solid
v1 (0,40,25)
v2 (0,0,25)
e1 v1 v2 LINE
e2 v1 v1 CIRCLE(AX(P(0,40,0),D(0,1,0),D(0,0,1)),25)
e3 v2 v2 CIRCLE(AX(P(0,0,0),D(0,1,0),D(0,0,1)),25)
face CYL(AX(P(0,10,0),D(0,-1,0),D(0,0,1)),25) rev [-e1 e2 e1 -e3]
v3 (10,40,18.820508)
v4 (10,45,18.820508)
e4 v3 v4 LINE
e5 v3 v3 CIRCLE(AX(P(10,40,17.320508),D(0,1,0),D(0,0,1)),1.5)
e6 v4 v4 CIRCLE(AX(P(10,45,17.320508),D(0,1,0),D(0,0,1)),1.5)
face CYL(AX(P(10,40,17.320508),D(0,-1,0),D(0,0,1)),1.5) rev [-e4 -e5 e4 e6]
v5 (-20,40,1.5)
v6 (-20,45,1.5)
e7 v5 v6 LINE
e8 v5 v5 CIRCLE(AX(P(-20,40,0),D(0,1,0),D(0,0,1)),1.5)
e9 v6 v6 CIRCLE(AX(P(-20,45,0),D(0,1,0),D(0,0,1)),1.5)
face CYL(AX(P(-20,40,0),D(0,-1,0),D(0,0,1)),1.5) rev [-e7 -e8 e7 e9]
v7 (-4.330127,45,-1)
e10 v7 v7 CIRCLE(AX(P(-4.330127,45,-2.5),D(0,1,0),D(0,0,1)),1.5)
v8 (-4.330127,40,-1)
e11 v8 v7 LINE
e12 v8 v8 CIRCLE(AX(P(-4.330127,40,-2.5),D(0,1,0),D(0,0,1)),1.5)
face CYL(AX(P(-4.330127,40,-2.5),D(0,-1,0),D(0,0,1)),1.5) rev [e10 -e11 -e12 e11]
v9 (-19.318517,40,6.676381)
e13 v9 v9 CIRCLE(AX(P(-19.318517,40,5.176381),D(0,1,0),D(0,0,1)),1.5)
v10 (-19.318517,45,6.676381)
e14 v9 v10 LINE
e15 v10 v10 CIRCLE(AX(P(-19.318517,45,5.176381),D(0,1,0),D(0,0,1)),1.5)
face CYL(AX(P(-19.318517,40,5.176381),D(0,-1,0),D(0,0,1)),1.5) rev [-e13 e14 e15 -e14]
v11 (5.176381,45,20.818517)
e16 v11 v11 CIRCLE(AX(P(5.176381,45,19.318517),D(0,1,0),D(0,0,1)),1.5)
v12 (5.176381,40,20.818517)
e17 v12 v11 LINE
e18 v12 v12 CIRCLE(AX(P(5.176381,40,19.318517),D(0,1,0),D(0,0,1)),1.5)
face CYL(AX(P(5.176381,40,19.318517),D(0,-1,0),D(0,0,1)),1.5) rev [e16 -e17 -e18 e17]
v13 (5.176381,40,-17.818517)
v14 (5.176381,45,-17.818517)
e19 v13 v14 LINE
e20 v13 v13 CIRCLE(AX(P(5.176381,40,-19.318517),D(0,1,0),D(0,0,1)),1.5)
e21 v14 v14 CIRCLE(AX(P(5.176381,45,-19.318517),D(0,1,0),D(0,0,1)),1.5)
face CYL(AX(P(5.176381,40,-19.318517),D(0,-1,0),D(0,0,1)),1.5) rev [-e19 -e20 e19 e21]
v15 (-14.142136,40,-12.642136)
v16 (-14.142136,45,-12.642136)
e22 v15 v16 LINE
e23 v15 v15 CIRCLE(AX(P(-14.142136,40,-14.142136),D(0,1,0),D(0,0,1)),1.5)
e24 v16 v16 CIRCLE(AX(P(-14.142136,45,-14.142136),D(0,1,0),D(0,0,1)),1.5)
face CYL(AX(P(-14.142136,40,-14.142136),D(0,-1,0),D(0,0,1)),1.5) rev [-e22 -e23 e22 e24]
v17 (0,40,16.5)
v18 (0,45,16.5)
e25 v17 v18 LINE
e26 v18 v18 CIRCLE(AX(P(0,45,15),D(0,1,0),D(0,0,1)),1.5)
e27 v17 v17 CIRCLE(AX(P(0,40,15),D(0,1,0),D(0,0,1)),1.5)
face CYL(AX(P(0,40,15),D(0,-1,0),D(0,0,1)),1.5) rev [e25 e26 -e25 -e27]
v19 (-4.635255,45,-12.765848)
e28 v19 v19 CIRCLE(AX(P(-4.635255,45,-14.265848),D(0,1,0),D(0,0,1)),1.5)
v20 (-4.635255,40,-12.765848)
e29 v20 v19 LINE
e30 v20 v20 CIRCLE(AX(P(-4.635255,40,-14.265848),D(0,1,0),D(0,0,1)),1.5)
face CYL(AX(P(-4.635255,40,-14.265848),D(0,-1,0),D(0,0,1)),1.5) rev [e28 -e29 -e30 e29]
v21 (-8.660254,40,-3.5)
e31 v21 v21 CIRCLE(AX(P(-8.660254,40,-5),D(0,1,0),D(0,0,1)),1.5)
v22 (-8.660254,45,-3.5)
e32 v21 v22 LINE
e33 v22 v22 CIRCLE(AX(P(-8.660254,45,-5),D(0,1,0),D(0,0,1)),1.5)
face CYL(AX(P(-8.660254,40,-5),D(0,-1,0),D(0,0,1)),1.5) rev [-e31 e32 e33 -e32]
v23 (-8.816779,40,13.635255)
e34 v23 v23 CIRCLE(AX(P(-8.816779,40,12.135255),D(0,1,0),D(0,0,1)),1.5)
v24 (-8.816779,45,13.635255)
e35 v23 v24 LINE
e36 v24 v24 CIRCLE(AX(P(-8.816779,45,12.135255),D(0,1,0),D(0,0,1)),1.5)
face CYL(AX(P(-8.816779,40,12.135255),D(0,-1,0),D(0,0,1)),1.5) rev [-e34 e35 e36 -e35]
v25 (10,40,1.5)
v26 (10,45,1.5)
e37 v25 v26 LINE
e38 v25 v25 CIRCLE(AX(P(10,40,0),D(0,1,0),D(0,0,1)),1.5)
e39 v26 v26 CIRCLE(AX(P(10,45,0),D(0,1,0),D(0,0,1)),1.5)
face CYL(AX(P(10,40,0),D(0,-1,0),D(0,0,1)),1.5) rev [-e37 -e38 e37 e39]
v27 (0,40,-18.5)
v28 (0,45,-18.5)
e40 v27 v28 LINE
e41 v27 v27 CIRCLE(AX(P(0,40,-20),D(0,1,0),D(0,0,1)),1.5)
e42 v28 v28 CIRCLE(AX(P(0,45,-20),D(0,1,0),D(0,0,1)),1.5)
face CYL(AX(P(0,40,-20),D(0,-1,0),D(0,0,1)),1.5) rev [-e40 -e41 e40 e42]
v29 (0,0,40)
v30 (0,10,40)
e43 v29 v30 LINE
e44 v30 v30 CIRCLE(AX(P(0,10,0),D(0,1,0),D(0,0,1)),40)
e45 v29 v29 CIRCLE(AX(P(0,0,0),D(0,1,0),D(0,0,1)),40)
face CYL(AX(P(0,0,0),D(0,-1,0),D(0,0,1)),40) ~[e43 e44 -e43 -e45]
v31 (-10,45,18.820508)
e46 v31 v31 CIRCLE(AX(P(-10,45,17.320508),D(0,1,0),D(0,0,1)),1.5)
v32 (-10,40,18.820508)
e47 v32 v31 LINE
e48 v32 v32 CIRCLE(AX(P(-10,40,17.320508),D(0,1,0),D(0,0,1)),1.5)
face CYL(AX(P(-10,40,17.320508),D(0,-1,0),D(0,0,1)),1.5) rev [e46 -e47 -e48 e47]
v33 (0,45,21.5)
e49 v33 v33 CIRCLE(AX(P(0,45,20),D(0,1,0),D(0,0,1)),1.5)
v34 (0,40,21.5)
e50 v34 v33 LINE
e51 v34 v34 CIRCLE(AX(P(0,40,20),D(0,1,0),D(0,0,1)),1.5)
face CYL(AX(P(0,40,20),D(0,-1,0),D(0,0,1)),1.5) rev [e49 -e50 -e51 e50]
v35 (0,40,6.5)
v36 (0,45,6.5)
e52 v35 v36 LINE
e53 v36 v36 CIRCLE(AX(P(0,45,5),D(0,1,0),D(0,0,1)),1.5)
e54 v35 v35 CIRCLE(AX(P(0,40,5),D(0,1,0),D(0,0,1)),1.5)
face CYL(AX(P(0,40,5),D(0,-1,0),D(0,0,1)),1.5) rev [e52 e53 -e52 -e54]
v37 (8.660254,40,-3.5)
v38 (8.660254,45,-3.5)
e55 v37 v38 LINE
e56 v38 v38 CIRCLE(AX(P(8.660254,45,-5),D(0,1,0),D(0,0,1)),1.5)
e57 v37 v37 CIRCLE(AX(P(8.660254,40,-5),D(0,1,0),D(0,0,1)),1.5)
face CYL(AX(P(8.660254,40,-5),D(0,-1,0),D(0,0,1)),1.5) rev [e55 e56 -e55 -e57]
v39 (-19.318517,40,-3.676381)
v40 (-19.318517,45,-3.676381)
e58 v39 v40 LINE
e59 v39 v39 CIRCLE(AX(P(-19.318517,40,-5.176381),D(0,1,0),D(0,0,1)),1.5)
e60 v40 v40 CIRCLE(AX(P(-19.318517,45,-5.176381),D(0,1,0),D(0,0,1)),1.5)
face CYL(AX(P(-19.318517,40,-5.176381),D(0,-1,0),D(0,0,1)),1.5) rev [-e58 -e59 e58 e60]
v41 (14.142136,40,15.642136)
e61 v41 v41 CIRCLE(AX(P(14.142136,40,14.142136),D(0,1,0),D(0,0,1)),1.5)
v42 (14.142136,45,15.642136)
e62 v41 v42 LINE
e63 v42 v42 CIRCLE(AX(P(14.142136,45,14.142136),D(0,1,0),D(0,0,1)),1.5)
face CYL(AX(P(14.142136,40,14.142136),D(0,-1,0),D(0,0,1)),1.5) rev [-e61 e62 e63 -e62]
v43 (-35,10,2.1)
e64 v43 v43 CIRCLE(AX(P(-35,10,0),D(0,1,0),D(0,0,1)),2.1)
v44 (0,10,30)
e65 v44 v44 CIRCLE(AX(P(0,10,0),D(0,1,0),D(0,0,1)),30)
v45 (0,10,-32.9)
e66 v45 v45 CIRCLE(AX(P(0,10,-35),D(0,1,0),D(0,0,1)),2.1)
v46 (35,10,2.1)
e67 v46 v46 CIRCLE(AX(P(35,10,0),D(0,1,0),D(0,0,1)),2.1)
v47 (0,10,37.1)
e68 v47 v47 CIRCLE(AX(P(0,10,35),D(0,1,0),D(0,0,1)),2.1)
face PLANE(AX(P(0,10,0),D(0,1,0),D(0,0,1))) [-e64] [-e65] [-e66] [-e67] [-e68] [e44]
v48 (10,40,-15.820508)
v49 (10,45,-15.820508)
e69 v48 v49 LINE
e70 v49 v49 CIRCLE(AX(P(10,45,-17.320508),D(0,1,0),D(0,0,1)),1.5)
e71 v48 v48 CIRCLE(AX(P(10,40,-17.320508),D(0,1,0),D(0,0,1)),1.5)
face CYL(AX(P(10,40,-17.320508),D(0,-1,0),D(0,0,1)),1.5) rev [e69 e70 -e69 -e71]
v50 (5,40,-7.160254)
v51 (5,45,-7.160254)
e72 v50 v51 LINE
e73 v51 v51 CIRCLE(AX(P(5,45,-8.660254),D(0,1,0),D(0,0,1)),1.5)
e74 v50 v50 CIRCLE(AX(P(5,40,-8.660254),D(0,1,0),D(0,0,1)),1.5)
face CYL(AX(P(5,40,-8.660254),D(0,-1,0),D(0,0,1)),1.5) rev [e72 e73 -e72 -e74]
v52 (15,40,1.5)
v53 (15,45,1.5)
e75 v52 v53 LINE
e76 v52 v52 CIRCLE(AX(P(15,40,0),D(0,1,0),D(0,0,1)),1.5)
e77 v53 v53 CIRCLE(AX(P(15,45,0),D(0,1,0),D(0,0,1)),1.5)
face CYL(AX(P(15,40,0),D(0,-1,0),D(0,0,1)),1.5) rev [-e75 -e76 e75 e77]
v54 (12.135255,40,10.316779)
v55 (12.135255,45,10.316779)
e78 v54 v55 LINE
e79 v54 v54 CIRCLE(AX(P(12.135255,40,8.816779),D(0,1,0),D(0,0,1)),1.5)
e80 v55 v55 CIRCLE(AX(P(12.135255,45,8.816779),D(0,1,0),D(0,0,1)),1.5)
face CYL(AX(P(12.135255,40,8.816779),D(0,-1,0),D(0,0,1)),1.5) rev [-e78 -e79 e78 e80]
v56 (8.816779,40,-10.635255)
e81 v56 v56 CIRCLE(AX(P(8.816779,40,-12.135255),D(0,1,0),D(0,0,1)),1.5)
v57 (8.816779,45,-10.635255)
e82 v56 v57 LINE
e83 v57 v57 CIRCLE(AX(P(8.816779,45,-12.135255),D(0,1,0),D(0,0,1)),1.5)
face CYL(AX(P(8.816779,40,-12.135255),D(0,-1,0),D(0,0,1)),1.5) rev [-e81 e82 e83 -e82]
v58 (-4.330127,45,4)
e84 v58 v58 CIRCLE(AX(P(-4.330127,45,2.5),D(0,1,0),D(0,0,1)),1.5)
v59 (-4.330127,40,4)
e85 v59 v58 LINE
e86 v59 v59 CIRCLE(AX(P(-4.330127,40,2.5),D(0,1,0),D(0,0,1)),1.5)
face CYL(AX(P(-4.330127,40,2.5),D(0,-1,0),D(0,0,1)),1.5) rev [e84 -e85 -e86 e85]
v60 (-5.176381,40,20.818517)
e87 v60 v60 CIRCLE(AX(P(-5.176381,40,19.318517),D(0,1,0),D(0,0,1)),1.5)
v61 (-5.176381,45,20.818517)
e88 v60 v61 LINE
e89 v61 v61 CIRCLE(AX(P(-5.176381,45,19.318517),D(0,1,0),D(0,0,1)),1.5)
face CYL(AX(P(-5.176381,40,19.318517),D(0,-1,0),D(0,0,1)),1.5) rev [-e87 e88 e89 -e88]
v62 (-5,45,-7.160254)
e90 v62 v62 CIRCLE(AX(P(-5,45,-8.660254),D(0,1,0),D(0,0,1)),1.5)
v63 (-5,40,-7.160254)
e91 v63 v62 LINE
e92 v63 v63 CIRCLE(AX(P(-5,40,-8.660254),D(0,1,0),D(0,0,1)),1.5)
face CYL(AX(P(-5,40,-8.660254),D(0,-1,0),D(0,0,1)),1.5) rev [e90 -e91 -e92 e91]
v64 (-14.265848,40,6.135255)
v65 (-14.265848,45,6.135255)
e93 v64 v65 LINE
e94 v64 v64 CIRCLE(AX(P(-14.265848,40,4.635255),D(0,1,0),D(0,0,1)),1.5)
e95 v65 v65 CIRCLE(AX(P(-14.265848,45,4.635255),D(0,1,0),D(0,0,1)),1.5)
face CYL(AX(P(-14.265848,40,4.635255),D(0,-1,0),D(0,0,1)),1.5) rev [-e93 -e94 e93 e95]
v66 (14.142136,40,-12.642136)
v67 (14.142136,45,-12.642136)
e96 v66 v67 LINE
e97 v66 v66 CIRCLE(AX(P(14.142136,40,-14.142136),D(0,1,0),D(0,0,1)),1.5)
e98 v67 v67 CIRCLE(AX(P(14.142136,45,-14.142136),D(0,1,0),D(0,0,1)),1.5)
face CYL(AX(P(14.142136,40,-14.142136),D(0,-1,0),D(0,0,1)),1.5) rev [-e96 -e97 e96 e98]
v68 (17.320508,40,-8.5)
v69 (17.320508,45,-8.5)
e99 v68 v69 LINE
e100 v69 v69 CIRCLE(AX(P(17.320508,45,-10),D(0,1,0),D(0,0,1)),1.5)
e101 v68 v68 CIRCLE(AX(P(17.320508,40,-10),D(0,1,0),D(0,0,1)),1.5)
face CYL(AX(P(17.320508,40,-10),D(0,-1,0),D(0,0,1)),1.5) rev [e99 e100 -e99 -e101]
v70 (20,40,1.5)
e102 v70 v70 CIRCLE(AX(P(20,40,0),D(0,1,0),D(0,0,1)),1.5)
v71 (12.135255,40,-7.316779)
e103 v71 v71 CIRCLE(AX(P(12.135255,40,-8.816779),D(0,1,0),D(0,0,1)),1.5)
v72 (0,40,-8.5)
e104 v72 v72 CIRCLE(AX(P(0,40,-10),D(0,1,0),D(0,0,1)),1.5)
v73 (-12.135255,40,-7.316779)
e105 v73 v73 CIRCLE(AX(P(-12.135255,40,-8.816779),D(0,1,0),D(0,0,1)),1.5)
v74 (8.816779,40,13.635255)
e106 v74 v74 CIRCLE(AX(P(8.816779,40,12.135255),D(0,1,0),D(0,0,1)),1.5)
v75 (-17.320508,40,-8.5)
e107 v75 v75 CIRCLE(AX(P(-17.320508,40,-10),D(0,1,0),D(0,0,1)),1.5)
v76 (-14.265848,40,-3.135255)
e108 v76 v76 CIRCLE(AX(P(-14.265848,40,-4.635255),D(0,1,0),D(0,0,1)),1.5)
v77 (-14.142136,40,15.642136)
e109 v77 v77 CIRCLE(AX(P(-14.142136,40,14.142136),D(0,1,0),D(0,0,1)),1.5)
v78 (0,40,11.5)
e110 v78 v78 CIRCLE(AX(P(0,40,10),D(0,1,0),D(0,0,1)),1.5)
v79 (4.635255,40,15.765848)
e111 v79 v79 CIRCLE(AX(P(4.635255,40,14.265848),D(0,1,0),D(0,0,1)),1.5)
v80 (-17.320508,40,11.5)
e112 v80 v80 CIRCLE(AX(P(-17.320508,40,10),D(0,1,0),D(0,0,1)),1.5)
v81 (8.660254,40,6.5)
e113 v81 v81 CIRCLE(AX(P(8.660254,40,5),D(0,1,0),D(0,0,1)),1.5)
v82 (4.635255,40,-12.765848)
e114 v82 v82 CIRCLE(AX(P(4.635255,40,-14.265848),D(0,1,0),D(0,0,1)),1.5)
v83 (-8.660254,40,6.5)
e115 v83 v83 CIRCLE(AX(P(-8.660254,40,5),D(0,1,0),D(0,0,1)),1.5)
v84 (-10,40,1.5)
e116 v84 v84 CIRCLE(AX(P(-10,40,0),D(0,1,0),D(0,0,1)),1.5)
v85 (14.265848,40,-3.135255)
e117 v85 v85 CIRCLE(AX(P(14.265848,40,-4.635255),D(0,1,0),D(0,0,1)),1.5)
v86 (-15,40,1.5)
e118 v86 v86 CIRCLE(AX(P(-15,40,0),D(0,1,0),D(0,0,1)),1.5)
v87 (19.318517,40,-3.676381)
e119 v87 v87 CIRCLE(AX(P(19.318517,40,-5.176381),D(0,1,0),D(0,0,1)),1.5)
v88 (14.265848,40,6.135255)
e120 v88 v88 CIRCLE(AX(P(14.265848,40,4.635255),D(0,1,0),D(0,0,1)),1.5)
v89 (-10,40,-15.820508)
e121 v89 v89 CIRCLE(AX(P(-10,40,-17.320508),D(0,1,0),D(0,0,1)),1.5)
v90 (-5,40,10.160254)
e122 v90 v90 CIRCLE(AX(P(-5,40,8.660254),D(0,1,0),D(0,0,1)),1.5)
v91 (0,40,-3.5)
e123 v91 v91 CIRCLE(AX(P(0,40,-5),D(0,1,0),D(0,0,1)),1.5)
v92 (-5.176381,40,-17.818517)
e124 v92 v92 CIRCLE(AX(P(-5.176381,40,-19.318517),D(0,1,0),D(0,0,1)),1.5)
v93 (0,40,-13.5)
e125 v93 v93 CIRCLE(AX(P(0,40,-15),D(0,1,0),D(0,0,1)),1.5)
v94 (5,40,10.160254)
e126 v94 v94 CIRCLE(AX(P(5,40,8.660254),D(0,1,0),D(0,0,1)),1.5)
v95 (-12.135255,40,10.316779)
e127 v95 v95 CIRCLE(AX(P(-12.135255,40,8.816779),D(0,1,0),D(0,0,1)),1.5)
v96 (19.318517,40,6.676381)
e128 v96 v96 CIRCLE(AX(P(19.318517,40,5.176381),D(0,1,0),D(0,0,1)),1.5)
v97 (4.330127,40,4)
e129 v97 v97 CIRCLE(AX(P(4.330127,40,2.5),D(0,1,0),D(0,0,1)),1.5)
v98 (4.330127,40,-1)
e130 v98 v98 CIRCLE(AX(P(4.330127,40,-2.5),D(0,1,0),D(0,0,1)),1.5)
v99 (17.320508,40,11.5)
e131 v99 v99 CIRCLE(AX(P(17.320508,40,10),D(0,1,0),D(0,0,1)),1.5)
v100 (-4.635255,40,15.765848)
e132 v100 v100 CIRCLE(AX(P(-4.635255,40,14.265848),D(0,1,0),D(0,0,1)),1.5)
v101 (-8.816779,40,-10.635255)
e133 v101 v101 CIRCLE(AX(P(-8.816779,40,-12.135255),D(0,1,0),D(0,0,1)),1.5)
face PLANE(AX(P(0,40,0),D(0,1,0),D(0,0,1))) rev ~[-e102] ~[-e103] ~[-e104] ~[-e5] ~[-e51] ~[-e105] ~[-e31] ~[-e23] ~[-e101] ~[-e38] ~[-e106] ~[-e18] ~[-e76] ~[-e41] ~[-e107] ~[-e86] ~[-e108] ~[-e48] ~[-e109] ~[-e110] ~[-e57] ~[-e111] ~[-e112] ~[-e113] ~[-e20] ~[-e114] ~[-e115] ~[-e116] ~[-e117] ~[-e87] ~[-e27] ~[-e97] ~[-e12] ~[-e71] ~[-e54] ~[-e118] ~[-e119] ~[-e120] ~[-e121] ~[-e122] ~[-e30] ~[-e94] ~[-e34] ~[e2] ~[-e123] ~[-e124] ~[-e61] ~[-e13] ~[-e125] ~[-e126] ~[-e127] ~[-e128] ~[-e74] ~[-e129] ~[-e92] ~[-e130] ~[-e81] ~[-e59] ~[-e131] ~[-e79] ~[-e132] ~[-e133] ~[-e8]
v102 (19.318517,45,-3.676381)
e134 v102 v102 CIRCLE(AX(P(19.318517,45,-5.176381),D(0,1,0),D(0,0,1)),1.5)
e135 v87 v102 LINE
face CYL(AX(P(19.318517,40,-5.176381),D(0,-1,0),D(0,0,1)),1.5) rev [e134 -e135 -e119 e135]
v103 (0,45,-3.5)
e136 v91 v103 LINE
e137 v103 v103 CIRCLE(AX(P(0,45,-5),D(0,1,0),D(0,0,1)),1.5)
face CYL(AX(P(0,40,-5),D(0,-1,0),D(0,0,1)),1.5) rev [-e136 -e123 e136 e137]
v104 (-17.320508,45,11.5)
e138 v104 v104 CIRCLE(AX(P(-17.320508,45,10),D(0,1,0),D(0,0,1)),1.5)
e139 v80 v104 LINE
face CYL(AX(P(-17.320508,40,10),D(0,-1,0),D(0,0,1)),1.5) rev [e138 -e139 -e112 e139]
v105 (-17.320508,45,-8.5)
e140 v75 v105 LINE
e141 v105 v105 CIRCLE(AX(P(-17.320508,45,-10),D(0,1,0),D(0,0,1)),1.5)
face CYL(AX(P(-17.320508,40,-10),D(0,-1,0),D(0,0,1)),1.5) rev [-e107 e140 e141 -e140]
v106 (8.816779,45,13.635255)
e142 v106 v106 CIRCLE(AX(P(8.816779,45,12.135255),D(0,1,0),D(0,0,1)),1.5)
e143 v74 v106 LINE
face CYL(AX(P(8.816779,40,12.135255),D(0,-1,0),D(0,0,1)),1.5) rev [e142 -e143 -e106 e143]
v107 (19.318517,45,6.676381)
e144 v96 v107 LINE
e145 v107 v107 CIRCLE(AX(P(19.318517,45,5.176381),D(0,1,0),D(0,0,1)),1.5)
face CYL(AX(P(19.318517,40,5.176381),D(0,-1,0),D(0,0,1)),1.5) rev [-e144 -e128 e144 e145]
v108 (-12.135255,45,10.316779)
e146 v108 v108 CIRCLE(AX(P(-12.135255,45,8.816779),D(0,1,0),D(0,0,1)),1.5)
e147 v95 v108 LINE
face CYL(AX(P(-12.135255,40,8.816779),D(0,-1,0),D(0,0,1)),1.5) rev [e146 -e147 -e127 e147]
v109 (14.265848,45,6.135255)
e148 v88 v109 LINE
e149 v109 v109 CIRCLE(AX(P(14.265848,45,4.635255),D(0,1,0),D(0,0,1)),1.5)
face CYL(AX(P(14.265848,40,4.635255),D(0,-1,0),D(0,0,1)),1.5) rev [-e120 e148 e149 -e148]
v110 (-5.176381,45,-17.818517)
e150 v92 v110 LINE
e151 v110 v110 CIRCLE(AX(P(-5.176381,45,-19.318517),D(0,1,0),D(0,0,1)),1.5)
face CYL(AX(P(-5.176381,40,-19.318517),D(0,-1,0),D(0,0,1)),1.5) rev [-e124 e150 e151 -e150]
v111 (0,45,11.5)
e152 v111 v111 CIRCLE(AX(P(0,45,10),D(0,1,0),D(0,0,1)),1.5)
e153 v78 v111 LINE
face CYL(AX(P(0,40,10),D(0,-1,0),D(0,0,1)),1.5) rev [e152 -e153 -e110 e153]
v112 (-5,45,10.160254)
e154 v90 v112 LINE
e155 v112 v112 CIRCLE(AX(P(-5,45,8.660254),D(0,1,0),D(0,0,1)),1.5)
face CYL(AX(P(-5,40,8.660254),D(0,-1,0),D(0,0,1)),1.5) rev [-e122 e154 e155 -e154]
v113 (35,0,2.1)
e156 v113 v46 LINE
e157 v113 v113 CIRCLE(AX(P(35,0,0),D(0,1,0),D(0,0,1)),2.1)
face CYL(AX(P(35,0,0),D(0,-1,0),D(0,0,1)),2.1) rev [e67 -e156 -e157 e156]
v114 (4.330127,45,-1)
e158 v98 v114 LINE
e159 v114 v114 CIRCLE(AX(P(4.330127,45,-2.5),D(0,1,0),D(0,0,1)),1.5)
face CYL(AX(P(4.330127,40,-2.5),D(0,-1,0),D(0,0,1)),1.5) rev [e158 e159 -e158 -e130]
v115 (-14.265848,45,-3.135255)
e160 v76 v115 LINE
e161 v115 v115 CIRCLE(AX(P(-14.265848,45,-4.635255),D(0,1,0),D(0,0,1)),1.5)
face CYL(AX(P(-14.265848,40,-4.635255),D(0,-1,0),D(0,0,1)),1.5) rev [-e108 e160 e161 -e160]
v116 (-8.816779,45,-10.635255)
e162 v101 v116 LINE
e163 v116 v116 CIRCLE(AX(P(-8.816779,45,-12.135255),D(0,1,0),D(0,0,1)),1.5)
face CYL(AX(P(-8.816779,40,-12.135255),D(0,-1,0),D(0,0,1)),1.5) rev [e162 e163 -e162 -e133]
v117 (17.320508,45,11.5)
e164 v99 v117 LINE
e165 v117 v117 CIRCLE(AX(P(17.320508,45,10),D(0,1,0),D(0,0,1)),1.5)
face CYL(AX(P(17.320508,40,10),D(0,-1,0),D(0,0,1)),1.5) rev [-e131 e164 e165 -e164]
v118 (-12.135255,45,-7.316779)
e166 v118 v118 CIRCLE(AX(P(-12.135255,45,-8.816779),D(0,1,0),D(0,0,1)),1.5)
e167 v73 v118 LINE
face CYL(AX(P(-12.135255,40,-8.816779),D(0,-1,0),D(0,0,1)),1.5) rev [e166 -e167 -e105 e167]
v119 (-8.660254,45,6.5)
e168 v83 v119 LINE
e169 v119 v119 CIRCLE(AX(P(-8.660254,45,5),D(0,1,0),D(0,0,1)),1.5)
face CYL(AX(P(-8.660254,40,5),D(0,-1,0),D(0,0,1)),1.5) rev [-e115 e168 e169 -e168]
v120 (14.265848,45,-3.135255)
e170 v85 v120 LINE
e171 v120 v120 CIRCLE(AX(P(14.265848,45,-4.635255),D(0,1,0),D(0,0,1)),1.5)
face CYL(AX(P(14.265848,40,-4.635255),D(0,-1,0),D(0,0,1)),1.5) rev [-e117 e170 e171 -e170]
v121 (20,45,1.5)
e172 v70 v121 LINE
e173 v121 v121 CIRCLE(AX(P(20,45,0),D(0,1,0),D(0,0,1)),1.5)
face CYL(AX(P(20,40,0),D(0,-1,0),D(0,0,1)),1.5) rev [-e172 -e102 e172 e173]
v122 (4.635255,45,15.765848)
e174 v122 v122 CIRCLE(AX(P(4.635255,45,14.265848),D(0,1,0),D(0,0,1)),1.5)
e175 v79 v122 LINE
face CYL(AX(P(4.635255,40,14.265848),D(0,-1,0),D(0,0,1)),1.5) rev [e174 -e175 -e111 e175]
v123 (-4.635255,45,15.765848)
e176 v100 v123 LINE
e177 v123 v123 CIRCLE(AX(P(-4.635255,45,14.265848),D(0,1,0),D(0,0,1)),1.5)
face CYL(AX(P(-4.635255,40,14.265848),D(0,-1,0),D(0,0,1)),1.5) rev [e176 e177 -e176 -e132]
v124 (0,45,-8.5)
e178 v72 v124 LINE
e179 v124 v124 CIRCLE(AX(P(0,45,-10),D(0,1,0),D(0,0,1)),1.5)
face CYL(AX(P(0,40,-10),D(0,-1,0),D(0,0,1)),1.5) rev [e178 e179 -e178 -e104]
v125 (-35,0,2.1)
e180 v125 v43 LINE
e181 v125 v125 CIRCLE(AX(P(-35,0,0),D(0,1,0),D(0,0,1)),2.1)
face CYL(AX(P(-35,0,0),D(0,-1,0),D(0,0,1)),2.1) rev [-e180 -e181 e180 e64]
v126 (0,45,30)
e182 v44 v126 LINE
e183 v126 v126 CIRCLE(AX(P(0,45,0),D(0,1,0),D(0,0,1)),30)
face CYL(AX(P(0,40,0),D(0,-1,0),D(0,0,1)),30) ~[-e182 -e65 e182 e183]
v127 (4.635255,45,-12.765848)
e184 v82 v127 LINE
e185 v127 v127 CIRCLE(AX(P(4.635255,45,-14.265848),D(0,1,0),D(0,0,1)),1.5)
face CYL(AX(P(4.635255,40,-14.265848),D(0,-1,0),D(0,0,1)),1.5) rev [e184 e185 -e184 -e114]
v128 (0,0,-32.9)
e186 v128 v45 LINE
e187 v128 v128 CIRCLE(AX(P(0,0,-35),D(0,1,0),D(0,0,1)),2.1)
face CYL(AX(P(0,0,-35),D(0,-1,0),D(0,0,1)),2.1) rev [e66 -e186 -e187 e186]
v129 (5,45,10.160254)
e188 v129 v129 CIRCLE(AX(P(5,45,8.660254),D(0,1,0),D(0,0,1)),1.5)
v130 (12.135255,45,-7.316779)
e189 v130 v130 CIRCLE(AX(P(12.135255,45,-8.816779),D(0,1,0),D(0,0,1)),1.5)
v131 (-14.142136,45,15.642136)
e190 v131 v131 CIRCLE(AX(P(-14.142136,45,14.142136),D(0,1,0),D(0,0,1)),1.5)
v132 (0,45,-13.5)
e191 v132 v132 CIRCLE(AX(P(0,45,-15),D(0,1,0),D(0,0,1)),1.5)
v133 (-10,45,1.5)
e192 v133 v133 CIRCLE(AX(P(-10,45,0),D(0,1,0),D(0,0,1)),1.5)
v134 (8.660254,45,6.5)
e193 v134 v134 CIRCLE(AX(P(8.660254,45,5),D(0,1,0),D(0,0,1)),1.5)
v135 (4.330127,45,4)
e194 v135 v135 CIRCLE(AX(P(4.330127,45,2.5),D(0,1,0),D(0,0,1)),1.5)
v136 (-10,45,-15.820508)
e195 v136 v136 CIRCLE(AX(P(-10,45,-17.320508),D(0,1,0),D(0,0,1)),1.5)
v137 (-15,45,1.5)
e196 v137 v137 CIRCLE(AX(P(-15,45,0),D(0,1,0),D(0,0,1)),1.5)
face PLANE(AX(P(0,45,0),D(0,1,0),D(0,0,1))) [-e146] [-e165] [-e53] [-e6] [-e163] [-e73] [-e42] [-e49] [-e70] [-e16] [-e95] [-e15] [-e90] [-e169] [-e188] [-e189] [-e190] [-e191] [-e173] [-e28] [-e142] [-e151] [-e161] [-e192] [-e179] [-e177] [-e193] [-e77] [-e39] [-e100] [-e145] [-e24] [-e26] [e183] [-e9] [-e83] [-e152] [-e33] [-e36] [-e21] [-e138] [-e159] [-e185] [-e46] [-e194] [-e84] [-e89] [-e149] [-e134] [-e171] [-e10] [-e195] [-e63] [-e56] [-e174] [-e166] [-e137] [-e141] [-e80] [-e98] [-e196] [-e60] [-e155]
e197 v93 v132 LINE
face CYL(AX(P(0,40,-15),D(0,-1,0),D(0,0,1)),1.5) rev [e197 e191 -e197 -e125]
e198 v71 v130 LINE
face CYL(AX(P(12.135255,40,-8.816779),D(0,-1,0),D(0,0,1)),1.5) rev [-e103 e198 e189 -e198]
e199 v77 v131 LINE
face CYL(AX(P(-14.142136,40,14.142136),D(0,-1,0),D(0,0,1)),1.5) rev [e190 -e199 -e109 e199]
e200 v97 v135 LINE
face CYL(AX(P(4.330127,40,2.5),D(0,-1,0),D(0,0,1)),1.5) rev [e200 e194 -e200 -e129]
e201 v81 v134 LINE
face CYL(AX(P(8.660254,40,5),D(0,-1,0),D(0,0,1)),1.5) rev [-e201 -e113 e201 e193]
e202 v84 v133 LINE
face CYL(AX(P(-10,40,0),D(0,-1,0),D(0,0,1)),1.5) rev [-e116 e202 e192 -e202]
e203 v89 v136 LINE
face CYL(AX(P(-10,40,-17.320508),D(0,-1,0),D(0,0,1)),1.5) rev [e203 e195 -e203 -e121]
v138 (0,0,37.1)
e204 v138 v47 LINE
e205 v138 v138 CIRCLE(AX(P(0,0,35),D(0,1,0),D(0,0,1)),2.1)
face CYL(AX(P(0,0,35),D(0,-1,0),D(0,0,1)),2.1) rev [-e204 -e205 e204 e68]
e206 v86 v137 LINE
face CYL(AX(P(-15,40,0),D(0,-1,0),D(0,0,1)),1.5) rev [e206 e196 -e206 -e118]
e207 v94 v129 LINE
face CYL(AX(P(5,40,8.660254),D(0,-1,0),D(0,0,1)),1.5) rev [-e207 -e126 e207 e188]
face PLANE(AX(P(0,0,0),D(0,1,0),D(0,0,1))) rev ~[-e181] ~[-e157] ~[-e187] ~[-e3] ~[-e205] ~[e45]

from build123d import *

# Parameters (mm, degrees)
SKETCH2_R           = 40
SKETCH2_R_2         = 25
SKETCH2_R_3         = 2.1
BOSS_EXTRUDE1_DEPTH = 10
SKETCH4_R           = 30
SKETCH4_R_2         = 25
BOSS_EXTRUDE2_DEPTH = 30
SKETCH5_R           = 30
SKETCH5_R_2         = 1.5
BOSS_EXTRUDE3_DEPTH = 5


with BuildPart() as part:
    # Sketch2 → Boss-Extrude1 (new body)
    with BuildSketch(Plane(origin=(0, 0, 0), x_dir=(1, 0, 0), z_dir=(0, 1, 0))):
        with Locations(Location((0, 0, 0), (0, 0, 270))):
            Circle(SKETCH2_R)
        with Locations(Location((0, 0, 0), (0, 0, 270))):
            Circle(SKETCH2_R_2, mode=Mode.SUBTRACT)
        with Locations(Location((35, 0, 0), (0, 0, 270))):
            Circle(SKETCH2_R_3, mode=Mode.SUBTRACT)
        with Locations(Location((0, -35, 0), (0, 0, 270))):
            Circle(SKETCH2_R_3, mode=Mode.SUBTRACT)
        with Locations(Location((-35, 0, 0), (0, 0, 270))):
            Circle(SKETCH2_R_3, mode=Mode.SUBTRACT)
        with Locations(Location((0, 35, 0), (0, 0, 270))):
            Circle(SKETCH2_R_3, mode=Mode.SUBTRACT)
    extrude(amount=BOSS_EXTRUDE1_DEPTH)

    # Sketch4 → Boss-Extrude2 (add)
    with BuildSketch(Plane(origin=(0, 10, 0), x_dir=(1, 0, 0), z_dir=(0, 1, 0))):
        with Locations(Location((0, 0, 0), (0, 0, 270))):
            Circle(SKETCH4_R)
        with Locations(Location((0, 0, 0), (0, 0, 270))):
            Circle(SKETCH4_R_2, mode=Mode.SUBTRACT)
    extrude(amount=BOSS_EXTRUDE2_DEPTH)

    # Sketch5 → Boss-Extrude3 (add)
    with BuildSketch(Plane(origin=(0, 40, 0), x_dir=(1, 0, 0), z_dir=(0, 1, 0))):
        with Locations(Location((0, 0, 0), (0, 0, 270))):
            Circle(SKETCH5_R)
        with Locations(Location((0, 5, 0), (0, 0, 270))):
            Circle(SKETCH5_R_2, mode=Mode.SUBTRACT)
        with Locations(Location((0, 10, 0), (0, 0, 270))):
            Circle(SKETCH5_R_2, mode=Mode.SUBTRACT)
        with Locations(Location((0, 15, 0), (0, 0, 270))):
            Circle(SKETCH5_R_2, mode=Mode.SUBTRACT)
        with Locations(Location((0, 20, 0), (0, 0, 270))):
            Circle(SKETCH5_R_2, mode=Mode.SUBTRACT)
        with Locations(Location((4.330127019, 2.5, 0), (0, 0, 270))):
            Circle(SKETCH5_R_2, mode=Mode.SUBTRACT)
        with Locations(Location((4.330127019, -2.5, 0), (0, 0, 270))):
            Circle(SKETCH5_R_2, mode=Mode.SUBTRACT)
        with Locations(Location((0, -5, 0), (0, 0, 270))):
            Circle(SKETCH5_R_2, mode=Mode.SUBTRACT)
        with Locations(Location((-4.330127019, -2.5, 0), (0, 0, 270))):
            Circle(SKETCH5_R_2, mode=Mode.SUBTRACT)
        with Locations(Location((-4.330127019, 2.5, 0), (0, 0, 270))):
            Circle(SKETCH5_R_2, mode=Mode.SUBTRACT)
        with Locations(Location((5, 8.660254038, 0), (0, 0, 270))):
            Circle(SKETCH5_R_2, mode=Mode.SUBTRACT)
        with Locations(Location((8.660254038, 5, 0), (0, 0, 270))):
            Circle(SKETCH5_R_2, mode=Mode.SUBTRACT)
        with Locations(Location((10, 0, 0), (0, 0, 270))):
            Circle(SKETCH5_R_2, mode=Mode.SUBTRACT)
        with Locations(Location((8.660254038, -5, 0), (0, 0, 270))):
            Circle(SKETCH5_R_2, mode=Mode.SUBTRACT)
        with Locations(Location((5, -8.660254038, 0), (0, 0, 270))):
            Circle(SKETCH5_R_2, mode=Mode.SUBTRACT)
        with Locations(Location((0, -10, 0), (0, 0, 270))):
            Circle(SKETCH5_R_2, mode=Mode.SUBTRACT)
        with Locations(Location((-5, -8.660254038, 0), (0, 0, 270))):
            Circle(SKETCH5_R_2, mode=Mode.SUBTRACT)
        with Locations(Location((-8.660254038, -5, 0), (0, 0, 270))):
            Circle(SKETCH5_R_2, mode=Mode.SUBTRACT)
        with Locations(Location((-10, 0, 0), (0, 0, 270))):
            Circle(SKETCH5_R_2, mode=Mode.SUBTRACT)
        with Locations(Location((-8.660254038, 5, 0), (0, 0, 270))):
            Circle(SKETCH5_R_2, mode=Mode.SUBTRACT)
        with Locations(Location((-5, 8.660254038, 0), (0, 0, 270))):
            Circle(SKETCH5_R_2, mode=Mode.SUBTRACT)
        with Locations(Location((4.635254916, 14.265847744, 0), (0, 0, 270))):
            Circle(SKETCH5_R_2, mode=Mode.SUBTRACT)
        with Locations(Location((8.816778784, 12.135254916, 0), (0, 0, 270))):
            Circle(SKETCH5_R_2, mode=Mode.SUBTRACT)
        with Locations(Location((12.135254916, 8.816778784, 0), (0, 0, 270))):
            Circle(SKETCH5_R_2, mode=Mode.SUBTRACT)
        with Locations(Location((14.265847744, 4.635254916, 0), (0, 0, 270))):
            Circle(SKETCH5_R_2, mode=Mode.SUBTRACT)
        with Locations(Location((15, 0, 0), (0, 0, 270))):
            Circle(SKETCH5_R_2, mode=Mode.SUBTRACT)
        with Locations(Location((14.265847744, -4.635254916, 0), (0, 0, 270))):
            Circle(SKETCH5_R_2, mode=Mode.SUBTRACT)
        with Locations(Location((12.135254916, -8.816778784, 0), (0, 0, 270))):
            Circle(SKETCH5_R_2, mode=Mode.SUBTRACT)
        with Locations(Location((8.816778784, -12.135254916, 0), (0, 0, 270))):
            Circle(SKETCH5_R_2, mode=Mode.SUBTRACT)
        with Locations(Location((4.635254916, -14.265847744, 0), (0, 0, 270))):
            Circle(SKETCH5_R_2, mode=Mode.SUBTRACT)
        with Locations(Location((0, -15, 0), (0, 0, 270))):
            Circle(SKETCH5_R_2, mode=Mode.SUBTRACT)
        with Locations(Location((-4.635254916, -14.265847744, 0), (0, 0, 270))):
            Circle(SKETCH5_R_2, mode=Mode.SUBTRACT)
        with Locations(Location((-8.816778784, -12.135254916, 0), (0, 0, 270))):
            Circle(SKETCH5_R_2, mode=Mode.SUBTRACT)
        with Locations(Location((-12.135254916, -8.816778784, 0), (0, 0, 270))):
            Circle(SKETCH5_R_2, mode=Mode.SUBTRACT)
        with Locations(Location((-14.265847744, -4.635254916, 0), (0, 0, 270))):
            Circle(SKETCH5_R_2, mode=Mode.SUBTRACT)
        with Locations(Location((-15, 0, 0), (0, 0, 270))):
            Circle(SKETCH5_R_2, mode=Mode.SUBTRACT)
        with Locations(Location((-14.265847744, 4.635254916, 0), (0, 0, 270))):
            Circle(SKETCH5_R_2, mode=Mode.SUBTRACT)
        with Locations(Location((-12.135254916, 8.816778784, 0), (0, 0, 270))):
            Circle(SKETCH5_R_2, mode=Mode.SUBTRACT)
        with Locations(Location((-8.816778784, 12.135254916, 0), (0, 0, 270))):
            Circle(SKETCH5_R_2, mode=Mode.SUBTRACT)
        with Locations(Location((-4.635254916, 14.265847744, 0), (0, 0, 270))):
            Circle(SKETCH5_R_2, mode=Mode.SUBTRACT)
        with Locations(Location((5.176380902, 19.318516526, 0), (0, 0, 270))):
            Circle(SKETCH5_R_2, mode=Mode.SUBTRACT)
        with Locations(Location((10, 17.320508076, 0), (0, 0, 270))):
            Circle(SKETCH5_R_2, mode=Mode.SUBTRACT)
        with Locations(Location((14.142135624, 14.142135624, 0), (0, 0, 270))):
            Circle(SKETCH5_R_2, mode=Mode.SUBTRACT)
        with Locations(Location((17.320508076, 10, 0), (0, 0, 270))):
            Circle(SKETCH5_R_2, mode=Mode.SUBTRACT)
        with Locations(Location((19.318516526, 5.176380902, 0), (0, 0, 270))):
            Circle(SKETCH5_R_2, mode=Mode.SUBTRACT)
        with Locations(Location((20, 0, 0), (0, 0, 270))):
            Circle(SKETCH5_R_2, mode=Mode.SUBTRACT)
        with Locations(Location((19.318516526, -5.176380902, 0), (0, 0, 270))):
            Circle(SKETCH5_R_2, mode=Mode.SUBTRACT)
        with Locations(Location((17.320508076, -10, 0), (0, 0, 270))):
            Circle(SKETCH5_R_2, mode=Mode.SUBTRACT)
        with Locations(Location((14.142135624, -14.142135624, 0), (0, 0, 270))):
            Circle(SKETCH5_R_2, mode=Mode.SUBTRACT)
        with Locations(Location((10, -17.320508076, 0), (0, 0, 270))):
            Circle(SKETCH5_R_2, mode=Mode.SUBTRACT)
        with Locations(Location((5.176380902, -19.318516526, 0), (0, 0, 270))):
            Circle(SKETCH5_R_2, mode=Mode.SUBTRACT)
        with Locations(Location((0, -20, 0), (0, 0, 270))):
            Circle(SKETCH5_R_2, mode=Mode.SUBTRACT)
        with Locations(Location((-5.176380902, -19.318516526, 0), (0, 0, 270))):
            Circle(SKETCH5_R_2, mode=Mode.SUBTRACT)
        with Locations(Location((-10, -17.320508076, 0), (0, 0, 270))):
            Circle(SKETCH5_R_2, mode=Mode.SUBTRACT)
        with Locations(Location((-14.142135624, -14.142135624, 0), (0, 0, 270))):
            Circle(SKETCH5_R_2, mode=Mode.SUBTRACT)
        with Locations(Location((-17.320508076, -10, 0), (0, 0, 270))):
            Circle(SKETCH5_R_2, mode=Mode.SUBTRACT)
        with Locations(Location((-19.318516526, -5.176380902, 0), (0, 0, 270))):
            Circle(SKETCH5_R_2, mode=Mode.SUBTRACT)
        with Locations(Location((-20, 0, 0), (0, 0, 270))):
            Circle(SKETCH5_R_2, mode=Mode.SUBTRACT)
        with Locations(Location((-19.318516526, 5.176380902, 0), (0, 0, 270))):
            Circle(SKETCH5_R_2, mode=Mode.SUBTRACT)
        with Locations(Location((-17.320508076, 10, 0), (0, 0, 270))):
            Circle(SKETCH5_R_2, mode=Mode.SUBTRACT)
        with Locations(Location((-14.142135624, 14.142135624, 0), (0, 0, 270))):
            Circle(SKETCH5_R_2, mode=Mode.SUBTRACT)
        with Locations(Location((-10, 17.320508076, 0), (0, 0, 270))):
            Circle(SKETCH5_R_2, mode=Mode.SUBTRACT)
        with Locations(Location((-5.176380902, 19.318516526, 0), (0, 0, 270))):
            Circle(SKETCH5_R_2, mode=Mode.SUBTRACT)
    extrude(amount=BOSS_EXTRUDE3_DEPTH)


solid = part.part
